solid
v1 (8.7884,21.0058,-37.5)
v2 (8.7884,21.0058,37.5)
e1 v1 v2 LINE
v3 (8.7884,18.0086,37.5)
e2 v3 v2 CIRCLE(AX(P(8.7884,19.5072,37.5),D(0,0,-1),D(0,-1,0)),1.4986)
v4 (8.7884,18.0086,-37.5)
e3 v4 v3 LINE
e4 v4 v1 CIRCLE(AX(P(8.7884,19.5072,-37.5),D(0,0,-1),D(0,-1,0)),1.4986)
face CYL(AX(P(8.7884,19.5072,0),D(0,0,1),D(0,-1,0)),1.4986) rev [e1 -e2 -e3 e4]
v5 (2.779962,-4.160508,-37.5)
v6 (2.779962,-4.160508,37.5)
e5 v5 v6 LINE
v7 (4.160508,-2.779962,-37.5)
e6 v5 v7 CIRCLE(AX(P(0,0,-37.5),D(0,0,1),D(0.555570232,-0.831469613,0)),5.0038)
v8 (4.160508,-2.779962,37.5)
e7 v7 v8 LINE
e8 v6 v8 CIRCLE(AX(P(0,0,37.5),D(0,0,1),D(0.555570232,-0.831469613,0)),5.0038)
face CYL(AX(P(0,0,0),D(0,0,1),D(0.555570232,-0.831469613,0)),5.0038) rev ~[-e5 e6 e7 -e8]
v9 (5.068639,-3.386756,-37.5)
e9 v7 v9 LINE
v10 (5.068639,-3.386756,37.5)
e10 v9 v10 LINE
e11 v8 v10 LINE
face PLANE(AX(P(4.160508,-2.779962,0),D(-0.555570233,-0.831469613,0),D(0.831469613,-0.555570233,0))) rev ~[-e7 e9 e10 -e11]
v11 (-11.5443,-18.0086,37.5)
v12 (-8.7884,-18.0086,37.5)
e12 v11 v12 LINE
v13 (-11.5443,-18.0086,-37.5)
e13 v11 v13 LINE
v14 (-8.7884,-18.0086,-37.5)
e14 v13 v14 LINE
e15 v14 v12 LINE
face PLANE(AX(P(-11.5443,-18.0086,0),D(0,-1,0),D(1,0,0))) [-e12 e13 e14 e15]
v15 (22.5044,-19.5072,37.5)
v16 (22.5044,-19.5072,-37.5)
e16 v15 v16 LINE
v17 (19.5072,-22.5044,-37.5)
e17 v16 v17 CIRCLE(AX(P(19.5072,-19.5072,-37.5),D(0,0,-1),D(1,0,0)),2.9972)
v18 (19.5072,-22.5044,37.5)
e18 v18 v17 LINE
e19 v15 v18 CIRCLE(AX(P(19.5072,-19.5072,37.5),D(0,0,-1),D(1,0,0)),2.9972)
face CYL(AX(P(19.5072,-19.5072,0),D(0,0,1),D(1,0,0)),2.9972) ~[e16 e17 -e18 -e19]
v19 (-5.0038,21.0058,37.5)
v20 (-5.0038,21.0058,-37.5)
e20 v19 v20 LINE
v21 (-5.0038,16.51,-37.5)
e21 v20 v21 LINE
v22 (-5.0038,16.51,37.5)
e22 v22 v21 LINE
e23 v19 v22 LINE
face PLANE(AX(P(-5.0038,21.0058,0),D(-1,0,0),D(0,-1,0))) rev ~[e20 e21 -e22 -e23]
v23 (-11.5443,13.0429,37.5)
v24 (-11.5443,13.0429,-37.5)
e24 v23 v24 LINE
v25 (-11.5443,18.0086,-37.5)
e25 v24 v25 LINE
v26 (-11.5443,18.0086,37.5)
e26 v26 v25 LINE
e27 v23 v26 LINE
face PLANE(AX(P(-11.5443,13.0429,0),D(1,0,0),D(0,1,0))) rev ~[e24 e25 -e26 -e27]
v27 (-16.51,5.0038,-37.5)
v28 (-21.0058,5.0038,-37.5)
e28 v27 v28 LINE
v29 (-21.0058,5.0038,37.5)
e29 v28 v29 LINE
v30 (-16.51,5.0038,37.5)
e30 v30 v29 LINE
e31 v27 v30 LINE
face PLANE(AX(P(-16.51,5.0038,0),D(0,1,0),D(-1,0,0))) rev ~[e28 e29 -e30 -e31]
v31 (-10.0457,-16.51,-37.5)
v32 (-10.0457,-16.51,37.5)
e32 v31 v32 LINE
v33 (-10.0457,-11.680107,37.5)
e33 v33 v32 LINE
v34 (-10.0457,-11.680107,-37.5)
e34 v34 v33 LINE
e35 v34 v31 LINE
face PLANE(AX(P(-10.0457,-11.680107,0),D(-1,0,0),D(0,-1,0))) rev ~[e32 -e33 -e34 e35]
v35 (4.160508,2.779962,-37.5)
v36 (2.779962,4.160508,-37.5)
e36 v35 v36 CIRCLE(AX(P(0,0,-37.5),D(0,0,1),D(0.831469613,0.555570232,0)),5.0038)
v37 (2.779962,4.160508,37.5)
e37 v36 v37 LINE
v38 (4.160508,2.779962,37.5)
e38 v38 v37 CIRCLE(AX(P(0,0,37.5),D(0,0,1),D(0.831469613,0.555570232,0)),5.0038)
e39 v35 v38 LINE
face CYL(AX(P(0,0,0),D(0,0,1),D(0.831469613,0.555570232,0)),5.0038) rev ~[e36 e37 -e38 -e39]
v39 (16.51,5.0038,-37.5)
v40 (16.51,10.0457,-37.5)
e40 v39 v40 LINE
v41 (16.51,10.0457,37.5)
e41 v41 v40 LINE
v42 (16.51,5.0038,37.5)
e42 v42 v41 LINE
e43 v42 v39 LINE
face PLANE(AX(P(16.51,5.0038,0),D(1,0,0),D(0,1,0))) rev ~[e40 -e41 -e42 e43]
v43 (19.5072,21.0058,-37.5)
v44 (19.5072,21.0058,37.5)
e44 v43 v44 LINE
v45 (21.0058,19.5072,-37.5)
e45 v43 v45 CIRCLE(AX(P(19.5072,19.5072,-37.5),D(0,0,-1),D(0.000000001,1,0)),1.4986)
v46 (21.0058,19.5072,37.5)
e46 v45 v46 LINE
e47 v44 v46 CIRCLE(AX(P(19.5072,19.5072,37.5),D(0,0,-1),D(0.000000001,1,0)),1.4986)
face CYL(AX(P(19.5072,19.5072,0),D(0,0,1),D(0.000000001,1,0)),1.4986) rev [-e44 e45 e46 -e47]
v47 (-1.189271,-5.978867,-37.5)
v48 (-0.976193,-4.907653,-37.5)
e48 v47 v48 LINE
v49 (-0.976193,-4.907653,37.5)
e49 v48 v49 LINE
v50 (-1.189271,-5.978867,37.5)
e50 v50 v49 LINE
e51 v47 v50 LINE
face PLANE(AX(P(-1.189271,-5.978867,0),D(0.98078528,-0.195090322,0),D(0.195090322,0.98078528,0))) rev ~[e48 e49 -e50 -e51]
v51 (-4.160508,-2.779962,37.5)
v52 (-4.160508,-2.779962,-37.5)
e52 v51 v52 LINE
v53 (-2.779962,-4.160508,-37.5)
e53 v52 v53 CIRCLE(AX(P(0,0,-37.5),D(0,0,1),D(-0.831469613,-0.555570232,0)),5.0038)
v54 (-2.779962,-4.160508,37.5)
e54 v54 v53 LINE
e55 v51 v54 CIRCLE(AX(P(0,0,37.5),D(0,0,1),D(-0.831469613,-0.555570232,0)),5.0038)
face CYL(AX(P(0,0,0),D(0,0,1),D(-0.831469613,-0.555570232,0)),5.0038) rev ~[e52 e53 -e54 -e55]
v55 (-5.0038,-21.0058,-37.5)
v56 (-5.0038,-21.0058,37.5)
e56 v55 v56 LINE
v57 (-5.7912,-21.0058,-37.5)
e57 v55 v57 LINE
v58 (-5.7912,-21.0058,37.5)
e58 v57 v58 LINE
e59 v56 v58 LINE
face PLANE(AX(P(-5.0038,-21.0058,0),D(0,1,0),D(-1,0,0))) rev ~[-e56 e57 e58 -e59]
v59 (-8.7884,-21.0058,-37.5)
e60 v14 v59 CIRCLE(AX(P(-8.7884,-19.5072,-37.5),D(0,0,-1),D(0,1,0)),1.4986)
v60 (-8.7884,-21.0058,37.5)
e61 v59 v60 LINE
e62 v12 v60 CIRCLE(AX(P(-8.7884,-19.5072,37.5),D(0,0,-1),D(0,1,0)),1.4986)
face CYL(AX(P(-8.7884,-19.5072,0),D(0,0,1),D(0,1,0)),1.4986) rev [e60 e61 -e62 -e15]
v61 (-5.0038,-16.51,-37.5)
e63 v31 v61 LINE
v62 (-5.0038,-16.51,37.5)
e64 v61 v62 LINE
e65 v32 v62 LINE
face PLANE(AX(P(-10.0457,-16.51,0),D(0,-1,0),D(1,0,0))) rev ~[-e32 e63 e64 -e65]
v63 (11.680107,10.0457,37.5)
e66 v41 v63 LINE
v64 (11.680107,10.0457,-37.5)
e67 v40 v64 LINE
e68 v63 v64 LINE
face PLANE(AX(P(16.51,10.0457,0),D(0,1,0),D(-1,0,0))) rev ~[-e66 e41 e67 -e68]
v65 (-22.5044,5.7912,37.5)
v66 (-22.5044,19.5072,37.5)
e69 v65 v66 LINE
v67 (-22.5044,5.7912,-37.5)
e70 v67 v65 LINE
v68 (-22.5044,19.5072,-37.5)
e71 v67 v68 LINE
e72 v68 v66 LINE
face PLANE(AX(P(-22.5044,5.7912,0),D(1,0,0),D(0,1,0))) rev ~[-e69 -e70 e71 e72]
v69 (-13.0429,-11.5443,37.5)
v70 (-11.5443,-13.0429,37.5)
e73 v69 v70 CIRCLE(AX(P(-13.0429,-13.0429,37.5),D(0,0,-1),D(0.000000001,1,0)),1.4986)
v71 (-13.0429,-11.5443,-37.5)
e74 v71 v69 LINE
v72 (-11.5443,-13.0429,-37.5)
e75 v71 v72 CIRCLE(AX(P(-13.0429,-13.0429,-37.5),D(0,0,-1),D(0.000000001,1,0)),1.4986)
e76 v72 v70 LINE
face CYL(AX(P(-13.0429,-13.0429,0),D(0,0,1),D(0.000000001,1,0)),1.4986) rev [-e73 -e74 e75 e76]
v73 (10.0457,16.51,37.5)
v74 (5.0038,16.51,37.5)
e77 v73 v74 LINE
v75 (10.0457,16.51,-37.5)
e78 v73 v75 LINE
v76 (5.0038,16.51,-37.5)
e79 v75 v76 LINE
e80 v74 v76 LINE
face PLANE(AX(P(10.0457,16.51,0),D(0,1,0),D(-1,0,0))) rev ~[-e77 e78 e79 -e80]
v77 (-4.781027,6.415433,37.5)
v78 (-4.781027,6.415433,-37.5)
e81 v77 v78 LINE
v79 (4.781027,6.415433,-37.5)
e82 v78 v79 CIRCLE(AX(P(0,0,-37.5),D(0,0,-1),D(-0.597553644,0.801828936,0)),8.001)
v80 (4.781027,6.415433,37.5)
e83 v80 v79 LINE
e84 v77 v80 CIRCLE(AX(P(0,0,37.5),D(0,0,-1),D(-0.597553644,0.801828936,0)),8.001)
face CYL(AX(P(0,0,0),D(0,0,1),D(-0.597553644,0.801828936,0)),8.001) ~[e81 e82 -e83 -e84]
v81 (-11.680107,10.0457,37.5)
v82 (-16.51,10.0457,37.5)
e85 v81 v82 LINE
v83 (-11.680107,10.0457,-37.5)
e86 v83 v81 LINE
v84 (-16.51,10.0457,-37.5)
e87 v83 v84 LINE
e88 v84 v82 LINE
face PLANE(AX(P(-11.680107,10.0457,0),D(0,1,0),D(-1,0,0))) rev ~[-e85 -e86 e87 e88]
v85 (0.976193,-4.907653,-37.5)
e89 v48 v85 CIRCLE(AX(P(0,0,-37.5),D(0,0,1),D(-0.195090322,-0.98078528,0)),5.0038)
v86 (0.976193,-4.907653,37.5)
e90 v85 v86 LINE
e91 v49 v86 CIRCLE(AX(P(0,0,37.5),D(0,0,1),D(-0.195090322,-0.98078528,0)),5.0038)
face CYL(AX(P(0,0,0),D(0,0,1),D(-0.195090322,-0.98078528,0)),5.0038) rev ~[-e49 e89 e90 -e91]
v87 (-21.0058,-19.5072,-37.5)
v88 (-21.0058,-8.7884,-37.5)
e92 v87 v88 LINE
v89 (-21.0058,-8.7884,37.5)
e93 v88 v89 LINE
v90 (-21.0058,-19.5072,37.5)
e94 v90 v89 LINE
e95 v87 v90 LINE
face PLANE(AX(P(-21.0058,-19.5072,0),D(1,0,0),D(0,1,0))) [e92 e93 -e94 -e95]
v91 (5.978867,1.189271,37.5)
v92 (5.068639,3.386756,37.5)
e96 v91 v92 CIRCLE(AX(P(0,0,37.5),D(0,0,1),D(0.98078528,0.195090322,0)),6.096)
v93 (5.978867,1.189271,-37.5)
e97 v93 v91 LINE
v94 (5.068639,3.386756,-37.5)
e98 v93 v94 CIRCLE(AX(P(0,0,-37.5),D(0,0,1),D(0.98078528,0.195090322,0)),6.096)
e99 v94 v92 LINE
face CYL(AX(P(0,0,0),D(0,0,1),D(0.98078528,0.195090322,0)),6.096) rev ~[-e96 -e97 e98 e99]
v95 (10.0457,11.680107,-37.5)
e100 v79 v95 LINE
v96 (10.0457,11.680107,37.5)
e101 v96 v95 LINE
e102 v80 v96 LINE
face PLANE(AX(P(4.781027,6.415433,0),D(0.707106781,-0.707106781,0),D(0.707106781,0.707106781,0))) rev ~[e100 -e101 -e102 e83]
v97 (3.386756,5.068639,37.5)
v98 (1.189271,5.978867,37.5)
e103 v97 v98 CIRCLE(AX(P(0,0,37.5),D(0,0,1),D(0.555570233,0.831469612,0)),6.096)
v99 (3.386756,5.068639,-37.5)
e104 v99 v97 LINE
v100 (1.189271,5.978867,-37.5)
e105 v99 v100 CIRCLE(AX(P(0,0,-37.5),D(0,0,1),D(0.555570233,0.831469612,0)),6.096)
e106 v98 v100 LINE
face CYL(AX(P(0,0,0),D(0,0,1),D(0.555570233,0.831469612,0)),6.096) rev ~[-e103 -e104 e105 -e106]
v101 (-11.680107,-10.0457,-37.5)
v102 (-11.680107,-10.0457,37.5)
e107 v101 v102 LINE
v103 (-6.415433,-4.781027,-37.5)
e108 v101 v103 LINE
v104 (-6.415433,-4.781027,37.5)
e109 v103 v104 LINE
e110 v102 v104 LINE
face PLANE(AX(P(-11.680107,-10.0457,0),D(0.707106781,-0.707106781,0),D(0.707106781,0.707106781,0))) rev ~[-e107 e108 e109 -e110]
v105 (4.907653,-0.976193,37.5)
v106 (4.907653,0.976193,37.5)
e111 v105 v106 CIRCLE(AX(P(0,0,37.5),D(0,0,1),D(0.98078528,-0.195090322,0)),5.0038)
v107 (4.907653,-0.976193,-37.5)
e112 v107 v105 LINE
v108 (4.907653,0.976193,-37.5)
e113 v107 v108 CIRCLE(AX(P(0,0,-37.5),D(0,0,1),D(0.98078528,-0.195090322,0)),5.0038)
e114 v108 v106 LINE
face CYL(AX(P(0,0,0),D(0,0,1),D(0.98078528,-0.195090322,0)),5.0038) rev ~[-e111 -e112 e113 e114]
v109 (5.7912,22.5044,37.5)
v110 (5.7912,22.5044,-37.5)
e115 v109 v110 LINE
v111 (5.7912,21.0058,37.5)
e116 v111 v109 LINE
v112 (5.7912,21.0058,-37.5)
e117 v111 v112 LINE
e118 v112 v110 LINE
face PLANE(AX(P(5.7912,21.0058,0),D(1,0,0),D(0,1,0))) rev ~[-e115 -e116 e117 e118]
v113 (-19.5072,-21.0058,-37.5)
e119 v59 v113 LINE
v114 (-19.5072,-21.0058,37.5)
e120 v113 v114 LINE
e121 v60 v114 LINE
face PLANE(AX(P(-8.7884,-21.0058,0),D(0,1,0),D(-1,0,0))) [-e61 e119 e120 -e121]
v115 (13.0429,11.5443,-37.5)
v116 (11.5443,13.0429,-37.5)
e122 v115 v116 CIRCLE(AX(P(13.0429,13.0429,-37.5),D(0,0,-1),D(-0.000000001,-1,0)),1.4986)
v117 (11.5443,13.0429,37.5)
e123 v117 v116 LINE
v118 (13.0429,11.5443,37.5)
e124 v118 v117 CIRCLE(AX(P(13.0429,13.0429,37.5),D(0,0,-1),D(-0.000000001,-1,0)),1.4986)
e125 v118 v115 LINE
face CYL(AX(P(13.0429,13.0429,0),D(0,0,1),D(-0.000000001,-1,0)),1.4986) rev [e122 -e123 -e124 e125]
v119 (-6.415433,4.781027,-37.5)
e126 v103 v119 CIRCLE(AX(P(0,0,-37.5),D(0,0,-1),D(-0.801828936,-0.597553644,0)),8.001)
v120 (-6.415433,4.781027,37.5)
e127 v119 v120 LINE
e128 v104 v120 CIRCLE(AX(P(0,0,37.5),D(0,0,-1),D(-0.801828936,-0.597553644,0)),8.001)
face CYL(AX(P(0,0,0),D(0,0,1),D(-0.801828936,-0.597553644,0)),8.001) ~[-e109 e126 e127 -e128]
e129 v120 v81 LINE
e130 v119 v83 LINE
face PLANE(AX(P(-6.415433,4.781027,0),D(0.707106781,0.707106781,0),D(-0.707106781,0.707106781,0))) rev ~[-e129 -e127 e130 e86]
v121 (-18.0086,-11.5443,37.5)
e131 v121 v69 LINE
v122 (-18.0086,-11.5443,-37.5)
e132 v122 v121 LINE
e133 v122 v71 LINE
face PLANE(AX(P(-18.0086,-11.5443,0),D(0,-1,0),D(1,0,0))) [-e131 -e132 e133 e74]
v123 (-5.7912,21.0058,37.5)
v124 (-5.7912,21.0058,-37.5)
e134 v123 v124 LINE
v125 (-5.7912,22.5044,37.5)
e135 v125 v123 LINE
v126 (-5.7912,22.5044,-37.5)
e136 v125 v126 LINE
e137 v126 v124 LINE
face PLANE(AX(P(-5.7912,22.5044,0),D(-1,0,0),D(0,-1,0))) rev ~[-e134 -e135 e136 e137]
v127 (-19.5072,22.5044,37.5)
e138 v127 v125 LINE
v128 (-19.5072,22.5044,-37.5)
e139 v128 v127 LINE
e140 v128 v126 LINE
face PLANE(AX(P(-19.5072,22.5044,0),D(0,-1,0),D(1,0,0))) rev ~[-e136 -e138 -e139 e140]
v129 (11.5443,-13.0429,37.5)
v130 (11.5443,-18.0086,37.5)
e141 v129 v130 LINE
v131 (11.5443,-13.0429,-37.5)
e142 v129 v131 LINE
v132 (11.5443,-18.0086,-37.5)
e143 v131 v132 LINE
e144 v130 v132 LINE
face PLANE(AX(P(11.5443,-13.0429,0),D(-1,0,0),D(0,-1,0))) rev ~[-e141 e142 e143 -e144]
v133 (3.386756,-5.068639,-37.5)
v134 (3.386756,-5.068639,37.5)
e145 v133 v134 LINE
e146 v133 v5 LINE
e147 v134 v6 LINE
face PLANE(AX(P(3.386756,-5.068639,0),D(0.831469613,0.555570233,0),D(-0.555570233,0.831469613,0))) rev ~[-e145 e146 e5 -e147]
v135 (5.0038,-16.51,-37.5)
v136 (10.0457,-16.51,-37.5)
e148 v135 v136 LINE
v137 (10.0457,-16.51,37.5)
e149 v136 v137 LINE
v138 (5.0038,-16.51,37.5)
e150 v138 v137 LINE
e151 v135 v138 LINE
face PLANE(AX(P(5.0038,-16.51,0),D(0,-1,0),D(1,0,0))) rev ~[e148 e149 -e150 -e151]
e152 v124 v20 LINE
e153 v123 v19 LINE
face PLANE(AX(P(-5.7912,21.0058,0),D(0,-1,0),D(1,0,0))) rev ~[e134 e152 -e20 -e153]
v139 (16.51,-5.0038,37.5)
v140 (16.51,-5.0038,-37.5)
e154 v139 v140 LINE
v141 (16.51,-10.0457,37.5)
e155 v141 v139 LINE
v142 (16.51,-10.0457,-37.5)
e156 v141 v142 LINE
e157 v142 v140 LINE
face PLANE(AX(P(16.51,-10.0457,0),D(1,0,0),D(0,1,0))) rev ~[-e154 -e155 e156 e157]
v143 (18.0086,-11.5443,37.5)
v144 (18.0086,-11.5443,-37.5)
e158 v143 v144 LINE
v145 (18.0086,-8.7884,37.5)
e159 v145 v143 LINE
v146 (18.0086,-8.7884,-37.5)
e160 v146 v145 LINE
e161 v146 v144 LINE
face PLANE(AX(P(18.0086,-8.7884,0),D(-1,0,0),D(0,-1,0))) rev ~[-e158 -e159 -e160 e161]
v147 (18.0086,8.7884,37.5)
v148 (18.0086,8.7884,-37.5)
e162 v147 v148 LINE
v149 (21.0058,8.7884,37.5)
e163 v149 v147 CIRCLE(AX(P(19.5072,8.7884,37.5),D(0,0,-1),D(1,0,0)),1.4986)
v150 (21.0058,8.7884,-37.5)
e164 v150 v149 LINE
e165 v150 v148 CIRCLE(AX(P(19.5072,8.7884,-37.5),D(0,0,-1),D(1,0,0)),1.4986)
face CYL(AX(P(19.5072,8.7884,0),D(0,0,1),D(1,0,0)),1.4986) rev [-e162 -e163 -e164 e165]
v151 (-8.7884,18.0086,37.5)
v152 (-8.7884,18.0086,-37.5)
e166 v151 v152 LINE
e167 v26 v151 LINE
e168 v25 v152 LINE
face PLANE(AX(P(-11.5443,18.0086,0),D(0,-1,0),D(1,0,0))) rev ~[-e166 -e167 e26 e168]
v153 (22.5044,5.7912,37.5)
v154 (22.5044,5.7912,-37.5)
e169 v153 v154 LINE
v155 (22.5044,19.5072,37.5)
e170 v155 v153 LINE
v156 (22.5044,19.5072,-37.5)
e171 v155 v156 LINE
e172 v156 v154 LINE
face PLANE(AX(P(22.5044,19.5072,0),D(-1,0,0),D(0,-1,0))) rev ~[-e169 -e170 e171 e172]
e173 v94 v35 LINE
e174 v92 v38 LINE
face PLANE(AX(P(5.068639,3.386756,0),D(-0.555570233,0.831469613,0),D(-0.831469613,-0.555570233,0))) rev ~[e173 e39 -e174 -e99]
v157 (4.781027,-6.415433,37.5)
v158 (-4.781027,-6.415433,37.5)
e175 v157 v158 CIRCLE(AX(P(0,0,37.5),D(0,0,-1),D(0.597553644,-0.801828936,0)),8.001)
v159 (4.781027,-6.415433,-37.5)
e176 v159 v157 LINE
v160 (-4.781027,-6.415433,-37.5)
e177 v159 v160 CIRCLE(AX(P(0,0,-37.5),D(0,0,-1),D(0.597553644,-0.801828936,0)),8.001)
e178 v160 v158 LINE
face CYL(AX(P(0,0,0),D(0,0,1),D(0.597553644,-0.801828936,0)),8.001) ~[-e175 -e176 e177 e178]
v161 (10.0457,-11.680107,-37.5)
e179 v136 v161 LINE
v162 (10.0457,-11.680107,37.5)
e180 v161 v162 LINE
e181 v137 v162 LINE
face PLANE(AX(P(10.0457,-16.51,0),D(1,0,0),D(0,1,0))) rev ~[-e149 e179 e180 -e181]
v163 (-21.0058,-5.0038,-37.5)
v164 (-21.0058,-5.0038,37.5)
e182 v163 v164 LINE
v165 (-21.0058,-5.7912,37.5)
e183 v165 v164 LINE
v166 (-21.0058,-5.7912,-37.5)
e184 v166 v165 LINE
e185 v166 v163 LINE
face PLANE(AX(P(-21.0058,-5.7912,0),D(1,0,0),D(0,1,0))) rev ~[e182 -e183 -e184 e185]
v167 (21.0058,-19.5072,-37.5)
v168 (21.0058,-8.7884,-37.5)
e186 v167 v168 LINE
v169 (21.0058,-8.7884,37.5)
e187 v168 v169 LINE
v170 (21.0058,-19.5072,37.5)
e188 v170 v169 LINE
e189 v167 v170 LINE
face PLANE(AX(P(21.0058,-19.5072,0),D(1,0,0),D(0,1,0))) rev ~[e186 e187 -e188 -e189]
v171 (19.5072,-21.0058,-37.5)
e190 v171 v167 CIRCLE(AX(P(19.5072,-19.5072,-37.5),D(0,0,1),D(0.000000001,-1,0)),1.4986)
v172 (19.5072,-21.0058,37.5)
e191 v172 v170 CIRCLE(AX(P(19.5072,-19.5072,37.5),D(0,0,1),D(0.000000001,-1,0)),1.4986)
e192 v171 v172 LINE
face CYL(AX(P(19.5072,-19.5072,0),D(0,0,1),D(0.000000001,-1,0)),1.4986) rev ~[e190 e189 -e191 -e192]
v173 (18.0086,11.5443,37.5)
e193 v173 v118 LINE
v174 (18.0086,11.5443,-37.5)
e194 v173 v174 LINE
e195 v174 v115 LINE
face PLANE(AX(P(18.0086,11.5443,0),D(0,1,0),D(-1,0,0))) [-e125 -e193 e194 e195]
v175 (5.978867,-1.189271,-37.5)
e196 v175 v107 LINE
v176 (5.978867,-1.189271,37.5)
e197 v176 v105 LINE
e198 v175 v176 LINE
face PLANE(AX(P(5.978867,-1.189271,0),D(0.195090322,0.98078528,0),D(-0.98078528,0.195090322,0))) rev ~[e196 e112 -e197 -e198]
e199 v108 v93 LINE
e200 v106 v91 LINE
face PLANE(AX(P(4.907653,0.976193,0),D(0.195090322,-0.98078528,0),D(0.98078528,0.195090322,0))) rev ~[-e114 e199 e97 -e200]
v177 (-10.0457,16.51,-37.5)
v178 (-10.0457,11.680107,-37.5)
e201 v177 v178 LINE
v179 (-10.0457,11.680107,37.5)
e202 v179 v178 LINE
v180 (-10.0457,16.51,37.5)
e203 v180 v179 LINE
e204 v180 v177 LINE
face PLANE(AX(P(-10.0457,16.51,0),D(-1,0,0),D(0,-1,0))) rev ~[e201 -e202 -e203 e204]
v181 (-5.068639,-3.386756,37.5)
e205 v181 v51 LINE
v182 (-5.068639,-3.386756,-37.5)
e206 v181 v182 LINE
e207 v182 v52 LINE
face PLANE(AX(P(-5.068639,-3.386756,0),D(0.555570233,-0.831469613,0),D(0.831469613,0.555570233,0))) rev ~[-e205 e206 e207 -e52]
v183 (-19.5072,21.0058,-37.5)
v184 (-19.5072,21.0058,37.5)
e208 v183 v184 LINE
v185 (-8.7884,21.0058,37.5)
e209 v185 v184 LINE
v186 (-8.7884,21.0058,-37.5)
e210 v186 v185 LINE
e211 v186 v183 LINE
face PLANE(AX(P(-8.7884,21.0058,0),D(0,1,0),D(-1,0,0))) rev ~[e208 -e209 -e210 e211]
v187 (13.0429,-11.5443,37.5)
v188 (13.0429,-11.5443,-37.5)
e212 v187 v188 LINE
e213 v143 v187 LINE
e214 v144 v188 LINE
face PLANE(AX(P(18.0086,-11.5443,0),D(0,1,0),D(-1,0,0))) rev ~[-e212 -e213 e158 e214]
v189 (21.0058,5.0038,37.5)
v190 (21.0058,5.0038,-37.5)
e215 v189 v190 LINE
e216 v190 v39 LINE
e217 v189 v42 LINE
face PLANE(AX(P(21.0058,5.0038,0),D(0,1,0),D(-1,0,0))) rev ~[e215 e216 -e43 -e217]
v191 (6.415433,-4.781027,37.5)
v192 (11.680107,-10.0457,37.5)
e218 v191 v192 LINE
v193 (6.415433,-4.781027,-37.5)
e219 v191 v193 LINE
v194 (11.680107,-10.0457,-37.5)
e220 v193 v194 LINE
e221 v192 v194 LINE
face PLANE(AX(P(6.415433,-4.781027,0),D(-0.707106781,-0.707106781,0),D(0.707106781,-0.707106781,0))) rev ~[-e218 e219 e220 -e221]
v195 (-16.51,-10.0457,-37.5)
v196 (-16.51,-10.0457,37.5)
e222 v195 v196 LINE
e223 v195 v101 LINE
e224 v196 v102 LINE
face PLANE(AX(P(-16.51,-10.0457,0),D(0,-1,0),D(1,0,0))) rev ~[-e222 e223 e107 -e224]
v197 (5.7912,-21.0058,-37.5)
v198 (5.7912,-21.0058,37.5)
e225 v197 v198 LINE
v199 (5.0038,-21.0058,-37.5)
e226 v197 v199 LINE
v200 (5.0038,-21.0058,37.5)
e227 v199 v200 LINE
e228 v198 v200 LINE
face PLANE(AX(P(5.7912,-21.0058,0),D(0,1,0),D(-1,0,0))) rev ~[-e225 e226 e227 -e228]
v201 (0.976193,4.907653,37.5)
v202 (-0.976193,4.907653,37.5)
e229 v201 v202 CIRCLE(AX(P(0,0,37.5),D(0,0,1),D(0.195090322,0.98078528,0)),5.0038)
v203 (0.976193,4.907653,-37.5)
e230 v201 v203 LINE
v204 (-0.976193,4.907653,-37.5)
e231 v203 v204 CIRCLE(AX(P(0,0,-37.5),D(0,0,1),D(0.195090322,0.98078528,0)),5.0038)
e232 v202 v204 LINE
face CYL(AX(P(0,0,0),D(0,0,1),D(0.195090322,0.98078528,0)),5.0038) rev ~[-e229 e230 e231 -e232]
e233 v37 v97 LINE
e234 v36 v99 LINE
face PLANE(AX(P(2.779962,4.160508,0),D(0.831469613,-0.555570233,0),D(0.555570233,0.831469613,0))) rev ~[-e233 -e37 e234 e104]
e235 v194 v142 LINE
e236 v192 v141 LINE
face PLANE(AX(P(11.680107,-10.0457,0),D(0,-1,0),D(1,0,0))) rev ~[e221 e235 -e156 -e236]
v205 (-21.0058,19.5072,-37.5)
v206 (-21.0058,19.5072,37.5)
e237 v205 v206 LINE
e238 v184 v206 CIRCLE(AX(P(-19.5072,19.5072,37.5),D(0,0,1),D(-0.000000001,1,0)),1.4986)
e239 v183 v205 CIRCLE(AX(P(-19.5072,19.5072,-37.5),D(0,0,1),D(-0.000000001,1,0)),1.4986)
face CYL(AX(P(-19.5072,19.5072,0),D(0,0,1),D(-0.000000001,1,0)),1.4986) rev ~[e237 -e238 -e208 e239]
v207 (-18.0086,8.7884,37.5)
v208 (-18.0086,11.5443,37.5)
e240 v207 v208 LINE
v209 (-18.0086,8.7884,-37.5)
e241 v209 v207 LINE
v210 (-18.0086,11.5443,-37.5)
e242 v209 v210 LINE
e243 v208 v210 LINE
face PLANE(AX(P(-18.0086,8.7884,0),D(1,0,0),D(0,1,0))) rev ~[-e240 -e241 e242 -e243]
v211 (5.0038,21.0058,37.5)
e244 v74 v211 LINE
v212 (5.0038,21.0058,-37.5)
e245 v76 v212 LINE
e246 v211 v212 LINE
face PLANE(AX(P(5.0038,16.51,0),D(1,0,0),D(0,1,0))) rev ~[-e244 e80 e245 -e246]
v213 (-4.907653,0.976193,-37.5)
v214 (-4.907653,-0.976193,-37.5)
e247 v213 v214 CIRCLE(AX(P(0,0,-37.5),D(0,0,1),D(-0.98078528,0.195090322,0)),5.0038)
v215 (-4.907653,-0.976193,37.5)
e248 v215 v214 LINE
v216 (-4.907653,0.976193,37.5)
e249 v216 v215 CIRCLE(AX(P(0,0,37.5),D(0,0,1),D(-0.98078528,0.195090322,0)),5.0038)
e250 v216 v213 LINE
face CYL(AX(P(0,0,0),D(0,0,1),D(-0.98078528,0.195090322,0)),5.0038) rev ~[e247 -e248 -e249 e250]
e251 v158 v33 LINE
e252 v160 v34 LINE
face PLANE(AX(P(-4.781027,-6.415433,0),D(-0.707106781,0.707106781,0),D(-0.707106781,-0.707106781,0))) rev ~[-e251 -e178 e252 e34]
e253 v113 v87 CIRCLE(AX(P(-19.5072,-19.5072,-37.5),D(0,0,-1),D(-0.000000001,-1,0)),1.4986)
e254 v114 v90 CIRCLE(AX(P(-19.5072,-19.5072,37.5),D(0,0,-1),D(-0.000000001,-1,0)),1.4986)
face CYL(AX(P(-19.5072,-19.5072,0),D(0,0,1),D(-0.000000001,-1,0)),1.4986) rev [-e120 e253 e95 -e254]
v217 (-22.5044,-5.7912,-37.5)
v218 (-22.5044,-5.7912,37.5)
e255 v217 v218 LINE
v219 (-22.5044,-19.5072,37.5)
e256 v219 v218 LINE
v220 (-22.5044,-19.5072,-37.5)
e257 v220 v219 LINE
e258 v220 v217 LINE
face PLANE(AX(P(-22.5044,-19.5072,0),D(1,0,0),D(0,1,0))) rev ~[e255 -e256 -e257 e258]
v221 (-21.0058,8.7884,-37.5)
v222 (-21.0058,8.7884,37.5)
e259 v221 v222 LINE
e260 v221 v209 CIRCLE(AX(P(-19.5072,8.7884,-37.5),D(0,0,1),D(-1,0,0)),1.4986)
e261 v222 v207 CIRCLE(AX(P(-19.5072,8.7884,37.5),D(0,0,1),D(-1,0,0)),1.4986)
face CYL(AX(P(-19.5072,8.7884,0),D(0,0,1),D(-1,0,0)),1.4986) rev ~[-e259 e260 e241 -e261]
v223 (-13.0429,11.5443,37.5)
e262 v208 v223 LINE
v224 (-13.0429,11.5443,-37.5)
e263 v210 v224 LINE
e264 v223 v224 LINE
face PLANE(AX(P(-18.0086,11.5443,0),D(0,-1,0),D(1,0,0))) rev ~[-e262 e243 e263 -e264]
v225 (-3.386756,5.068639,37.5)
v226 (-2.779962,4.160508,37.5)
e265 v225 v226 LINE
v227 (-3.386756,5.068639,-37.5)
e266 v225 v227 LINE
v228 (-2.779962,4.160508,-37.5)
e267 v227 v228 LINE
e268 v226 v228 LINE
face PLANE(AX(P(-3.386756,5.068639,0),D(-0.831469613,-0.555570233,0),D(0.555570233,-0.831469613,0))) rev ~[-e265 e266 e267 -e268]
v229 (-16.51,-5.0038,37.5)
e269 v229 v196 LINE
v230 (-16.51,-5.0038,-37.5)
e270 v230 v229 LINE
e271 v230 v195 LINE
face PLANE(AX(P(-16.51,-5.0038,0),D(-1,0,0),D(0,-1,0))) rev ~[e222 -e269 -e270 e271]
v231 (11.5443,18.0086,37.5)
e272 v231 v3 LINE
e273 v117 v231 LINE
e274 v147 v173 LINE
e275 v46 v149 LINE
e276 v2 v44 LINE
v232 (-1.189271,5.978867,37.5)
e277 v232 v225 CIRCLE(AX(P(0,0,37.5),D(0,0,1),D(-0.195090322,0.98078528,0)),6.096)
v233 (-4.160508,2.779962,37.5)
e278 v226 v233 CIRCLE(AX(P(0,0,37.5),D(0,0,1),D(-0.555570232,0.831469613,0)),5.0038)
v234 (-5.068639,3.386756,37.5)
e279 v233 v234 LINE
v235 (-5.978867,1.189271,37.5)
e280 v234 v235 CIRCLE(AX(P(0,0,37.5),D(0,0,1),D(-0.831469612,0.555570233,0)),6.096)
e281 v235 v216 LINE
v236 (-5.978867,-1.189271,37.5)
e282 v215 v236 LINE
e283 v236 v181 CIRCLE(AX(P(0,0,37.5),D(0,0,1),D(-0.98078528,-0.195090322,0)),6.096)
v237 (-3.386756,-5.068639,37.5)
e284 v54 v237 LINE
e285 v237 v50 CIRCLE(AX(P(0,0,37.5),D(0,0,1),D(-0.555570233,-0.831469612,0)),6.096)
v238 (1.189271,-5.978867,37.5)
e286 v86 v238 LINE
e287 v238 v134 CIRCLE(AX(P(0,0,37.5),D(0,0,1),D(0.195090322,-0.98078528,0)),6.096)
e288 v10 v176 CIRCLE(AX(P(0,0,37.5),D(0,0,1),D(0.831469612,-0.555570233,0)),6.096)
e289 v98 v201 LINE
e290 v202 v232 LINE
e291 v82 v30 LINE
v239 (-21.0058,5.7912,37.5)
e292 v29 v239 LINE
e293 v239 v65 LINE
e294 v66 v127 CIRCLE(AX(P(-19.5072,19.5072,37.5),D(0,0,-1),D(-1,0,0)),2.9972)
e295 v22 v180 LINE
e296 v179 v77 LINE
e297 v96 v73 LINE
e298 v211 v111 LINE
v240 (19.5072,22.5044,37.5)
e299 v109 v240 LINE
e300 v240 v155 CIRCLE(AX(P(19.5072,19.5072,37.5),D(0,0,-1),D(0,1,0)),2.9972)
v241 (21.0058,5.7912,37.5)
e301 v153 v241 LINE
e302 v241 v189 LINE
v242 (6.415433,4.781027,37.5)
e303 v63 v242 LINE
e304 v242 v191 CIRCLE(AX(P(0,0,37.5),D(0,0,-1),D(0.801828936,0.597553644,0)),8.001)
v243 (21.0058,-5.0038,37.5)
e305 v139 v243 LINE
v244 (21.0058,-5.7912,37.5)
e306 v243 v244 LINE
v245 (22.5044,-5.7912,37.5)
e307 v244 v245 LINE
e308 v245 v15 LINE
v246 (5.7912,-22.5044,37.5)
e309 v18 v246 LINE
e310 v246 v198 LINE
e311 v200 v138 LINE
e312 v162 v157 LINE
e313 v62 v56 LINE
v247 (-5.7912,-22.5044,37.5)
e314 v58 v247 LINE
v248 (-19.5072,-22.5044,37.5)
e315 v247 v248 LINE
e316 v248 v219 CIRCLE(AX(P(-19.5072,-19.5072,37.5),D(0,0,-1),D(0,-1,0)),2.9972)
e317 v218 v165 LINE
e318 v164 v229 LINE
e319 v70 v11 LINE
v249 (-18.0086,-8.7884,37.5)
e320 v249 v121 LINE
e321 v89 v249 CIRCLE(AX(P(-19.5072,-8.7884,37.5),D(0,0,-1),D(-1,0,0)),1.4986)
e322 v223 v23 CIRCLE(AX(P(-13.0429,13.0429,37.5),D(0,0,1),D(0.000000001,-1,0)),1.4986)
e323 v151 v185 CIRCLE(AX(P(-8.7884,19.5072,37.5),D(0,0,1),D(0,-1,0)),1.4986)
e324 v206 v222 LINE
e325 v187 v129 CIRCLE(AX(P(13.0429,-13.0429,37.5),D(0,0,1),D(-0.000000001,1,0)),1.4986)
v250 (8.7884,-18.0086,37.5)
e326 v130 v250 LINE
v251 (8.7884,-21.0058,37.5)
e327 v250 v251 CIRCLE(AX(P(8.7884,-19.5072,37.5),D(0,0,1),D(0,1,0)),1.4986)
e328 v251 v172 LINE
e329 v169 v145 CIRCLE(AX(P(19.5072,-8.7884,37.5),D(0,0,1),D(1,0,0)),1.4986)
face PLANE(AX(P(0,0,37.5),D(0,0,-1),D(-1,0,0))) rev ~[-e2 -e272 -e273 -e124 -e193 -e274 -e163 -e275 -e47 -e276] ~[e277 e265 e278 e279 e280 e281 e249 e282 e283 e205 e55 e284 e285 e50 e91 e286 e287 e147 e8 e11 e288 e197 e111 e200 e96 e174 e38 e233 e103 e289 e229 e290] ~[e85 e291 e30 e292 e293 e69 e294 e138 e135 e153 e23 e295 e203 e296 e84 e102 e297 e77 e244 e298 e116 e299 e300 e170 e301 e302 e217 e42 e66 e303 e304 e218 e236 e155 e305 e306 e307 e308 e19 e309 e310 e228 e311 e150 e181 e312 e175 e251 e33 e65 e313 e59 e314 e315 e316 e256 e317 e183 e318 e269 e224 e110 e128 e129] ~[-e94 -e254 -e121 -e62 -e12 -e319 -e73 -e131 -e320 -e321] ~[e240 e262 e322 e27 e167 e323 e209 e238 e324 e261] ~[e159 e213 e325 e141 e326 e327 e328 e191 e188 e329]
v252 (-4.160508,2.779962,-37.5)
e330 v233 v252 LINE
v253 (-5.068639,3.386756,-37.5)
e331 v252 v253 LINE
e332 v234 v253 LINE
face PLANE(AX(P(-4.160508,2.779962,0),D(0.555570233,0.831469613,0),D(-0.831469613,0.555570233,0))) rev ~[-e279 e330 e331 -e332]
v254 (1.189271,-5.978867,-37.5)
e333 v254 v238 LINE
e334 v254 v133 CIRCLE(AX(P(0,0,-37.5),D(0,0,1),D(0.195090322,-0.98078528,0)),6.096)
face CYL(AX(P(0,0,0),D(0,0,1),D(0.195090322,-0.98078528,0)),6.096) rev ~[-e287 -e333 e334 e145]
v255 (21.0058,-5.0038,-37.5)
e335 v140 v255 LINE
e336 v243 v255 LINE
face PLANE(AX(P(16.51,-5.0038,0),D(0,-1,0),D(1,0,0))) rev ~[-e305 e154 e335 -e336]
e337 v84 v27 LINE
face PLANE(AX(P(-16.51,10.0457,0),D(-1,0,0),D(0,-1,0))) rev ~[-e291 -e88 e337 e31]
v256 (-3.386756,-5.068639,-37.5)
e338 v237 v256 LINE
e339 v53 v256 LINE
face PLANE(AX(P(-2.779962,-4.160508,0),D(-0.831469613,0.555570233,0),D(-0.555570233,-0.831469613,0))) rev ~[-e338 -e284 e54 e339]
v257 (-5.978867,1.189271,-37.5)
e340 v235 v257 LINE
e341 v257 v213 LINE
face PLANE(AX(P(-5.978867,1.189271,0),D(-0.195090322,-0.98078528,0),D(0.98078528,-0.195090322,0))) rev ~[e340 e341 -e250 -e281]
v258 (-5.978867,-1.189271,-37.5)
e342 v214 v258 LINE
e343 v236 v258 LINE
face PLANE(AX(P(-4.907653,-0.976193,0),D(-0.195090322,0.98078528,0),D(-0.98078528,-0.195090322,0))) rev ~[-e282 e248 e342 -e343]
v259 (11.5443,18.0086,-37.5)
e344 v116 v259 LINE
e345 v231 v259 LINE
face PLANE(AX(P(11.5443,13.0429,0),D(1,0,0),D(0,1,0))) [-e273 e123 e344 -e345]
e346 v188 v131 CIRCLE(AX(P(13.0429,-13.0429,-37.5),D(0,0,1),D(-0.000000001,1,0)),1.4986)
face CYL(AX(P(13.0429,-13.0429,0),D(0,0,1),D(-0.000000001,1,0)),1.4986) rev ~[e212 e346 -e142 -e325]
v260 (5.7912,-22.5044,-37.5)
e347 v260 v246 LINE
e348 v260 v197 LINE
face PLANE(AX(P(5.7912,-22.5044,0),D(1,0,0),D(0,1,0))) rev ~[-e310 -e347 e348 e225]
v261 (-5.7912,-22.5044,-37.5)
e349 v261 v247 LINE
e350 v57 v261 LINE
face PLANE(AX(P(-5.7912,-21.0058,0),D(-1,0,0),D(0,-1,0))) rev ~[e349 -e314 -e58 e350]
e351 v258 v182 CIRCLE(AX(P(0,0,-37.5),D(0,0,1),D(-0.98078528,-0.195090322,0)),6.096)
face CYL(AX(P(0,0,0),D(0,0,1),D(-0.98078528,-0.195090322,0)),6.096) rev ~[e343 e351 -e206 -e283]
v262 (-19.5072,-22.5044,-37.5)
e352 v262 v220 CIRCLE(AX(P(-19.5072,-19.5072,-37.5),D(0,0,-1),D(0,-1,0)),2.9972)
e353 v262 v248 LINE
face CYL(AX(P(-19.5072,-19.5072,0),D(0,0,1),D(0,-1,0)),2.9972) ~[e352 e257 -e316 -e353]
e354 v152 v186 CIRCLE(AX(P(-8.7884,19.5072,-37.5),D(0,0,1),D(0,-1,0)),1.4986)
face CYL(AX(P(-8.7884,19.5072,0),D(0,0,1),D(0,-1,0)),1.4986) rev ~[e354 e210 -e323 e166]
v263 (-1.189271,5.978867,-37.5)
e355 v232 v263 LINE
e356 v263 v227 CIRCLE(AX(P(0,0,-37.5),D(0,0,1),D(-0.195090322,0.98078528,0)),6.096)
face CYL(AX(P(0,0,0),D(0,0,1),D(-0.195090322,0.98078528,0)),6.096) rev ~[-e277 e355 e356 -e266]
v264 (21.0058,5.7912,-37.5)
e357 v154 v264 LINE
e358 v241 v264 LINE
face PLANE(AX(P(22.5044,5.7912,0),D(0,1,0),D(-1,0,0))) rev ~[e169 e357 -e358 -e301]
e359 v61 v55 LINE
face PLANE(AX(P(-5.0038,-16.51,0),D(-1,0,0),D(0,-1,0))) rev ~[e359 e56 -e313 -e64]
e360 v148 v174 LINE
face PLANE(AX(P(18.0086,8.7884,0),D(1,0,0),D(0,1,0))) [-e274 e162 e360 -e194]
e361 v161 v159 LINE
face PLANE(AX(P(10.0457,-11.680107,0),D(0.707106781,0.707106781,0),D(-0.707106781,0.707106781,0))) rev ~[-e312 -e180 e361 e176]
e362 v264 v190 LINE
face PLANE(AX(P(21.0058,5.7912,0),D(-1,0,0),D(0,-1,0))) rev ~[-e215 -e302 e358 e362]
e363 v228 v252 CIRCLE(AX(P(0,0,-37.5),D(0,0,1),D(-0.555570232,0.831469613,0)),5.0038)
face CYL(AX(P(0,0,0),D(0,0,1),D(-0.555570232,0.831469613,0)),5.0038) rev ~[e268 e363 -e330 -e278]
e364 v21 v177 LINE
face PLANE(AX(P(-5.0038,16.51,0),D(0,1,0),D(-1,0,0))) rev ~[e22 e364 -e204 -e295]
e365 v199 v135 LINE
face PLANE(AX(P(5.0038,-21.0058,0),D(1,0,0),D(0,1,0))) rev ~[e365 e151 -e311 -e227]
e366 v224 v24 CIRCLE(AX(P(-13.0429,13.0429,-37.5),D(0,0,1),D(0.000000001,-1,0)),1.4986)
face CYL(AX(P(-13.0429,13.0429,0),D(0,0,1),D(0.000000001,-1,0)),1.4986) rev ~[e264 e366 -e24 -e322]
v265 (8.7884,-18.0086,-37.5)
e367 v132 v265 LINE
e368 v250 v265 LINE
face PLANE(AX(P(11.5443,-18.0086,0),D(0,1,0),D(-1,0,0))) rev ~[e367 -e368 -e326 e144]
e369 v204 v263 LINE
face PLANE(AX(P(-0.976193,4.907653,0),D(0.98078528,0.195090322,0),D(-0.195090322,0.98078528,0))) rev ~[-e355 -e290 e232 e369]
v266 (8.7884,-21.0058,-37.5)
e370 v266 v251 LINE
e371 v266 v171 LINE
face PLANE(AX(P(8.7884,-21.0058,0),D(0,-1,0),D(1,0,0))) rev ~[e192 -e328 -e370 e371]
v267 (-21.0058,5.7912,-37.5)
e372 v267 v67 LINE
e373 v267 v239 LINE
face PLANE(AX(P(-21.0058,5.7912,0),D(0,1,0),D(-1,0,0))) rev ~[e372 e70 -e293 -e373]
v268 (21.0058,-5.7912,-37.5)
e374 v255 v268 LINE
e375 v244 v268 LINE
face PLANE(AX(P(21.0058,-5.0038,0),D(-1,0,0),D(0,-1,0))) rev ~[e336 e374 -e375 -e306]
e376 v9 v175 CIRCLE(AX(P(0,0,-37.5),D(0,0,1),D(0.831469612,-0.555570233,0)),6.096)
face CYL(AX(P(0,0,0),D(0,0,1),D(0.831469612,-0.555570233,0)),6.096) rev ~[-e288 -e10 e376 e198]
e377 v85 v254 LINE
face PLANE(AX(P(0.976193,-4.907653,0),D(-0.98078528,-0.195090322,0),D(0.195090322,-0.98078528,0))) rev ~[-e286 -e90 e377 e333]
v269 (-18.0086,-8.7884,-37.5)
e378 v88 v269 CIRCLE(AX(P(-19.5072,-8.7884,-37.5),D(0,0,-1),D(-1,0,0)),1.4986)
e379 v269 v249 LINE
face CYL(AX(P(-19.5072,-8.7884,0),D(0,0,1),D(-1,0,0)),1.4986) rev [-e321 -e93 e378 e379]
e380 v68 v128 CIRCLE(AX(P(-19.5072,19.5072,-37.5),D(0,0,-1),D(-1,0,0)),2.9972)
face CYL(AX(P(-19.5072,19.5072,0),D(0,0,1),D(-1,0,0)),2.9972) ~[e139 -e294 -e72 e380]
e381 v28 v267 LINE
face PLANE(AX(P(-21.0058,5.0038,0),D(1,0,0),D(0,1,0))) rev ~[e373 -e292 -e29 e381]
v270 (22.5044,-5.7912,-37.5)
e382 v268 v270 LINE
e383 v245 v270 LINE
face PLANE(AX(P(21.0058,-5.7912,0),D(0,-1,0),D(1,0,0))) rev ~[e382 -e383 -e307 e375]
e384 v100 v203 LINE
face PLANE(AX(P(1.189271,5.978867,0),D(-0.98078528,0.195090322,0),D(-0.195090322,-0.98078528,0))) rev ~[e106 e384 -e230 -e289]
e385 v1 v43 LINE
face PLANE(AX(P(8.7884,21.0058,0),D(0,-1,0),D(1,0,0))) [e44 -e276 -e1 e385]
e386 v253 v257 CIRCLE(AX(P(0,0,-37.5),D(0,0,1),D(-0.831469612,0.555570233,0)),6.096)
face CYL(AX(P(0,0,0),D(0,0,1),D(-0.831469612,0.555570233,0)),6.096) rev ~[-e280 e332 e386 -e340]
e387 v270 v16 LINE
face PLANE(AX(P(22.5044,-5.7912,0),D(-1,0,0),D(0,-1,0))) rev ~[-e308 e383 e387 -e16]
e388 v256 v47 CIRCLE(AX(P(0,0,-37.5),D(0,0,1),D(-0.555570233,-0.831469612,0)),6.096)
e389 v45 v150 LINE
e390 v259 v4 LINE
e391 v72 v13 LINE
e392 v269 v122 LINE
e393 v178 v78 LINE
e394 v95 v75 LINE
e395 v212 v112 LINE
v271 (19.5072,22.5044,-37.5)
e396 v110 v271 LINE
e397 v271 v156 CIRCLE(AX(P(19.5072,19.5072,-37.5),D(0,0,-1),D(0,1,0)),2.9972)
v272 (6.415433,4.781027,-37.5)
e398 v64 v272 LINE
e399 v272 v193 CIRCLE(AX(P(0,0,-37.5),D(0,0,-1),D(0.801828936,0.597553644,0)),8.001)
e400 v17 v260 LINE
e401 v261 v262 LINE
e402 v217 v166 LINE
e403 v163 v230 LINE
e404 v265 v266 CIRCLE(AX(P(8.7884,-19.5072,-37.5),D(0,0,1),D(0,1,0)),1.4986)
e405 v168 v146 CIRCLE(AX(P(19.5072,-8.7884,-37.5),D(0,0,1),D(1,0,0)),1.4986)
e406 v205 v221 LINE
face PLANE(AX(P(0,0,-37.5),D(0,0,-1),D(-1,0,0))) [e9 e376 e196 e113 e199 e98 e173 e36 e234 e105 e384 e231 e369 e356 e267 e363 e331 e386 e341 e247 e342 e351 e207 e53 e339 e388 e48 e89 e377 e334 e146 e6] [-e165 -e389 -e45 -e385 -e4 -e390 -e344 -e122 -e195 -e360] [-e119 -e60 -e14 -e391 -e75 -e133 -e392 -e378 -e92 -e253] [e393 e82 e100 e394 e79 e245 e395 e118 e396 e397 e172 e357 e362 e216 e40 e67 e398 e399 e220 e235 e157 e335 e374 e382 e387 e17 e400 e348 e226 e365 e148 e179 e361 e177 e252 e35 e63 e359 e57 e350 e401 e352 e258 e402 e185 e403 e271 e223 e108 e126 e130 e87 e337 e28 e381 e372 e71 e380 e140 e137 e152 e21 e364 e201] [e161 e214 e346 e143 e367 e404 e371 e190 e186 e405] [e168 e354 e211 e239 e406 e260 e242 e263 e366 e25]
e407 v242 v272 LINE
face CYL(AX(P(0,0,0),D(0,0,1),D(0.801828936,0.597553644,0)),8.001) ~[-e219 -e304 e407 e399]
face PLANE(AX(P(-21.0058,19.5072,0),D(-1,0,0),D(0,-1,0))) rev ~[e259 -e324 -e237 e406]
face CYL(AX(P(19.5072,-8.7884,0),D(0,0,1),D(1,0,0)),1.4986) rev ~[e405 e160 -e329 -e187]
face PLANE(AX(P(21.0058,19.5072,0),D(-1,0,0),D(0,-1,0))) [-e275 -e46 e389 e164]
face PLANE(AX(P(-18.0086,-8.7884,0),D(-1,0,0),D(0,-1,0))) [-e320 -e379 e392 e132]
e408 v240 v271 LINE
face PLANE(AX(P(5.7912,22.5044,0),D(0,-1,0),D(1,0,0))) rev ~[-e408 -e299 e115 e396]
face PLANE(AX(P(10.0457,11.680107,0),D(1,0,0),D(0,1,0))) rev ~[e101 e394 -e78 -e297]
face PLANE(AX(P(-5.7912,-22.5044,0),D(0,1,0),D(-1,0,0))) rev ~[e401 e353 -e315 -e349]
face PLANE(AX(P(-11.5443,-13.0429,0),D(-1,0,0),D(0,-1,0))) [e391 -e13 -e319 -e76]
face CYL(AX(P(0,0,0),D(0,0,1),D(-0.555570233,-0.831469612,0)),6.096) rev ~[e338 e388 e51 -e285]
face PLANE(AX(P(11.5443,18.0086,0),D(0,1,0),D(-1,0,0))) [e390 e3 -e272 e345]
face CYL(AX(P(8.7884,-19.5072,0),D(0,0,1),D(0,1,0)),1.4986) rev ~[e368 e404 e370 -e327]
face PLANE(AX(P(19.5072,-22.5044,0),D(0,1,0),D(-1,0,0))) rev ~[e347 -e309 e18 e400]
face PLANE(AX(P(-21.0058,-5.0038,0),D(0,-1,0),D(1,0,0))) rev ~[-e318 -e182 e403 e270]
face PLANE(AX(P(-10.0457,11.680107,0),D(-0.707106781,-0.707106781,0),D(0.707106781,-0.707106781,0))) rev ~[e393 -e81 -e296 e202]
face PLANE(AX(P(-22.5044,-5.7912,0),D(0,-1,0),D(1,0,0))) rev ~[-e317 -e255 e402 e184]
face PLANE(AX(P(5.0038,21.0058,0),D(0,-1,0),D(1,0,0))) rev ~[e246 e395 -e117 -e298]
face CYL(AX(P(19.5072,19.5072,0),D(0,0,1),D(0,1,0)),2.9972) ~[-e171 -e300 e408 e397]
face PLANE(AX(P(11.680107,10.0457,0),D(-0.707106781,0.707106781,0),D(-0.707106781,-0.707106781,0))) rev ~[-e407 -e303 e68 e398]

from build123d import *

# Parameters (mm, degrees)
BOSS_EXTRUDE1_DEPTH = 37.5


with BuildPart() as part:
    # Sketch1 → Boss-Extrude1 (new, symmetric)
    with BuildSketch(Plane.XY):
        with BuildLine():
            Line((-19.5072, 22.5044), (-5.7912, 22.5044))
            Line((-5.7912, 22.5044), (-5.7912, 21.0058))
            Line((-5.7912, 21.0058), (-5.0038, 21.0058))
            Line((-5.0038, 21.0058), (-5.0038, 16.51))
            Line((-5.0038, 16.51), (-10.0457, 16.51))
            Line((-10.0457, 16.51), (-10.0457, 11.680106614))
            Line((-10.0457, 11.680106614), (-4.781026704, 6.415433318))
            ThreePointArc((-4.781026704, 6.415433318), (0, 8.001), (4.781026704, 6.415433318))
            Line((4.781026704, 6.415433318), (10.0457, 11.680106614))
            Line((10.0457, 11.680106614), (10.0457, 16.51))
            Line((10.0457, 16.51), (5.0038, 16.51))
            Line((5.0038, 16.51), (5.0038, 21.0058))
            Line((5.0038, 21.0058), (5.7912, 21.0058))
            Line((5.7912, 21.0058), (5.7912, 22.5044))
            Line((5.7912, 22.5044), (19.5072, 22.5044))
            ThreePointArc((19.5072, 22.5044), (21.626540445, 21.626540445), (22.5044, 19.5072))
            Line((22.5044, 19.5072), (22.5044, 5.7912))
            Line((22.5044, 5.7912), (21.0058, 5.7912))
            Line((21.0058, 5.7912), (21.0058, 5.0038))
            Line((21.0058, 5.0038), (16.51, 5.0038))
            Line((16.51, 5.0038), (16.51, 10.0457))
            Line((16.51, 10.0457), (11.680106614, 10.0457))
            Line((11.680106614, 10.0457), (6.415433318, 4.781026704))
            ThreePointArc((6.415433318, 4.781026704), (8.001, 0), (6.415433318, -4.781026704))
            Line((6.415433318, -4.781026704), (11.680106614, -10.0457))
            Line((11.680106614, -10.0457), (16.51, -10.0457))
            Line((16.51, -10.0457), (16.51, -5.0038))
            Line((16.51, -5.0038), (21.0058, -5.0038))
            Line((21.0058, -5.0038), (21.0058, -5.7912))
            Line((21.0058, -5.7912), (22.5044, -5.7912))
            Line((22.5044, -5.7912), (22.5044, -19.5072))
            ThreePointArc((22.5044, -19.5072), (21.626540445, -21.626540445), (19.5072, -22.5044))
            Line((19.5072, -22.5044), (5.7912, -22.5044))
            Line((5.7912, -22.5044), (5.7912, -21.0058))
            Line((5.7912, -21.0058), (5.0038, -21.0058))
            Line((5.0038, -21.0058), (5.0038, -16.51))
            Line((5.0038, -16.51), (10.0457, -16.51))
            Line((10.0457, -16.51), (10.0457, -11.680106614))
            Line((10.0457, -11.680106614), (4.781026704, -6.415433318))
            ThreePointArc((4.781026704, -6.415433318), (0, -8.001), (-4.781026704, -6.415433318))
            Line((-4.781026704, -6.415433318), (-10.0457, -11.680106614))
            Line((-10.0457, -11.680106614), (-10.0457, -16.51))
            Line((-10.0457, -16.51), (-5.0038, -16.51))
            Line((-5.0038, -16.51), (-5.0038, -21.0058))
            Line((-5.0038, -21.0058), (-5.7912, -21.0058))
            Line((-5.7912, -21.0058), (-5.7912, -22.5044))
            Line((-5.7912, -22.5044), (-19.5072, -22.5044))
            ThreePointArc((-19.5072, -22.5044), (-21.626540445, -21.626540445), (-22.5044, -19.5072))
            Line((-22.5044, -19.5072), (-22.5044, -5.7912))
            Line((-22.5044, -5.7912), (-21.0058, -5.7912))
            Line((-21.0058, -5.7912), (-21.0058, -5.0038))
            Line((-21.0058, -5.0038), (-16.51, -5.0038))
            Line((-16.51, -5.0038), (-16.51, -10.0457))
            Line((-16.51, -10.0457), (-11.680106614, -10.0457))
            Line((-11.680106614, -10.0457), (-6.415433318, -4.781026704))
            ThreePointArc((-6.415433318, -4.781026704), (-8.001, 0), (-6.415433318, 4.781026704))
            Line((-6.415433318, 4.781026704), (-11.680106614, 10.0457))
            Line((-11.680106614, 10.0457), (-16.51, 10.0457))
            Line((-16.51, 10.0457), (-16.51, 5.0038))
            Line((-16.51, 5.0038), (-21.0058, 5.0038))
            Line((-21.0058, 5.0038), (-21.0058, 5.7912))
            Line((-21.0058, 5.7912), (-22.5044, 5.7912))
            Line((-22.5044, 5.7912), (-22.5044, 19.5072))
            ThreePointArc((-22.5044, 19.5072), (-21.626540445, 21.626540445), (-19.5072, 22.5044))
        make_face()
        with BuildLine():
            Line((-18.0086, 11.5443), (-13.0429, 11.5443))
            ThreePointArc((-13.0429, 11.5443), (-11.983229778, 11.983229778), (-11.5443, 13.0429))
            Line((-11.5443, 13.0429), (-11.5443, 18.0086))
            Line((-11.5443, 18.0086), (-8.7884, 18.0086))
            ThreePointArc((-8.7884, 18.0086), (-7.2898, 19.5072), (-8.7884, 21.0058))
            Line((-8.7884, 21.0058), (-19.5072, 21.0058))
            ThreePointArc((-19.5072, 21.0058), (-20.566870222, 20.566870222), (-21.0058, 19.5072))
            Line((-21.0058, 19.5072), (-21.0058, 8.7884))
            ThreePointArc((-21.0058, 8.7884), (-19.5072, 7.2898), (-18.0086, 8.7884))
            Line((-18.0086, 8.7884), (-18.0086, 11.5443))
        make_face(mode=Mode.SUBTRACT)
        with BuildLine():
            Line((1.189270603, 5.978867069), (0.976192953, 4.907653386))
            ThreePointArc((0.976192953, 4.907653386), (0, 5.0038), (-0.976192953, 4.907653386))
            Line((-0.976192953, 4.907653386), (-1.189270603, 5.978867069))
            ThreePointArc((-1.189270603, 5.978867069), (-2.332838204, 5.63196963), (-3.38675614, 5.068638757))
            Line((-3.38675614, 5.068638757), (-2.779962332, 4.160507646))
            ThreePointArc((-2.779962332, 4.160507646), (-3.538220912, 3.538220912), (-4.160507646, 2.779962332))
            Line((-4.160507646, 2.779962332), (-5.068638757, 3.38675614))
            ThreePointArc((-5.068638757, 3.38675614), (-5.63196963, 2.332838204), (-5.978867069, 1.189270603))
            Line((-5.978867069, 1.189270603), (-4.907653386, 0.976192953))
            ThreePointArc((-4.907653386, 0.976192953), (-5.0038, 0), (-4.907653386, -0.976192953))
            Line((-4.907653386, -0.976192953), (-5.978867069, -1.189270603))
            ThreePointArc((-5.978867069, -1.189270603), (-5.63196963, -2.332838204), (-5.068638757, -3.38675614))
            Line((-5.068638757, -3.38675614), (-4.160507646, -2.779962332))
            ThreePointArc((-4.160507646, -2.779962332), (-3.538220912, -3.538220912), (-2.779962332, -4.160507646))
            Line((-2.779962332, -4.160507646), (-3.38675614, -5.068638757))
            ThreePointArc((-3.38675614, -5.068638757), (-2.332838204, -5.63196963), (-1.189270603, -5.978867069))
            Line((-1.189270603, -5.978867069), (-0.976192953, -4.907653386))
            ThreePointArc((-0.976192953, -4.907653386), (0, -5.0038), (0.976192953, -4.907653386))
            Line((0.976192953, -4.907653386), (1.189270603, -5.978867069))
            ThreePointArc((1.189270603, -5.978867069), (2.332838204, -5.63196963), (3.38675614, -5.068638757))
            Line((3.38675614, -5.068638757), (2.779962332, -4.160507646))
            ThreePointArc((2.779962332, -4.160507646), (3.538220912, -3.538220912), (4.160507646, -2.779962332))
            Line((4.160507646, -2.779962332), (5.068638757, -3.38675614))
            ThreePointArc((5.068638757, -3.38675614), (5.63196963, -2.332838204), (5.978867069, -1.189270603))
            Line((5.978867069, -1.189270603), (4.907653386, -0.976192953))
            ThreePointArc((4.907653386, -0.976192953), (5.0038, 0), (4.907653386, 0.976192953))
            Line((4.907653386, 0.976192953), (5.978867069, 1.189270603))
            ThreePointArc((5.978867069, 1.189270603), (5.63196963, 2.332838204), (5.068638757, 3.38675614))
            Line((5.068638757, 3.38675614), (4.160507646, 2.779962332))
            ThreePointArc((4.160507646, 2.779962332), (3.538220912, 3.538220912), (2.779962332, 4.160507646))
            Line((2.779962332, 4.160507646), (3.38675614, 5.068638757))
            ThreePointArc((3.38675614, 5.068638757), (2.332838204, 5.63196963), (1.189270603, 5.978867069))
        make_face(mode=Mode.SUBTRACT)
        with BuildLine():
            Line((11.5443, 18.0086), (8.7884, 18.0086))
            ThreePointArc((8.7884, 18.0086), (7.2898, 19.5072), (8.7884, 21.0058))
            Line((8.7884, 21.0058), (19.5072, 21.0058))
            ThreePointArc((19.5072, 21.0058), (20.566870222, 20.566870222), (21.0058, 19.5072))
            Line((21.0058, 19.5072), (21.0058, 8.7884))
            ThreePointArc((21.0058, 8.7884), (19.5072, 7.2898), (18.0086, 8.7884))
            Line((18.0086, 8.7884), (18.0086, 11.5443))
            Line((18.0086, 11.5443), (13.0429, 11.5443))
            ThreePointArc((13.0429, 11.5443), (11.983229778, 11.983229778), (11.5443, 13.0429))
            Line((11.5443, 13.0429), (11.5443, 18.0086))
        make_face(mode=Mode.SUBTRACT)
        with BuildLine():
            Line((18.0086, -11.5443), (13.0429, -11.5443))
            ThreePointArc((13.0429, -11.5443), (11.983229778, -11.983229778), (11.5443, -13.0429))
            Line((11.5443, -13.0429), (11.5443, -18.0086))
            Line((11.5443, -18.0086), (8.7884, -18.0086))
            ThreePointArc((8.7884, -18.0086), (7.2898, -19.5072), (8.7884, -21.0058))
            Line((8.7884, -21.0058), (19.5072, -21.0058))
            ThreePointArc((19.5072, -21.0058), (20.566870222, -20.566870222), (21.0058, -19.5072))
            Line((21.0058, -19.5072), (21.0058, -8.7884))
            ThreePointArc((21.0058, -8.7884), (19.5072, -7.2898), (18.0086, -8.7884))
            Line((18.0086, -8.7884), (18.0086, -11.5443))
        make_face(mode=Mode.SUBTRACT)
        with BuildLine():
            Line((-11.5443, -18.0086), (-8.7884, -18.0086))
            ThreePointArc((-8.7884, -18.0086), (-7.2898, -19.5072), (-8.7884, -21.0058))
            Line((-8.7884, -21.0058), (-19.5072, -21.0058))
            ThreePointArc((-19.5072, -21.0058), (-20.566870222, -20.566870222), (-21.0058, -19.5072))
            Line((-21.0058, -19.5072), (-21.0058, -8.7884))
            ThreePointArc((-21.0058, -8.7884), (-19.5072, -7.2898), (-18.0086, -8.7884))
            Line((-18.0086, -8.7884), (-18.0086, -11.5443))
            Line((-18.0086, -11.5443), (-13.0429, -11.5443))
            ThreePointArc((-13.0429, -11.5443), (-11.983229778, -11.983229778), (-11.5443, -13.0429))
            Line((-11.5443, -13.0429), (-11.5443, -18.0086))
        make_face(mode=Mode.SUBTRACT)
    extrude(amount=BOSS_EXTRUDE1_DEPTH, both=True)


solid = part.part
